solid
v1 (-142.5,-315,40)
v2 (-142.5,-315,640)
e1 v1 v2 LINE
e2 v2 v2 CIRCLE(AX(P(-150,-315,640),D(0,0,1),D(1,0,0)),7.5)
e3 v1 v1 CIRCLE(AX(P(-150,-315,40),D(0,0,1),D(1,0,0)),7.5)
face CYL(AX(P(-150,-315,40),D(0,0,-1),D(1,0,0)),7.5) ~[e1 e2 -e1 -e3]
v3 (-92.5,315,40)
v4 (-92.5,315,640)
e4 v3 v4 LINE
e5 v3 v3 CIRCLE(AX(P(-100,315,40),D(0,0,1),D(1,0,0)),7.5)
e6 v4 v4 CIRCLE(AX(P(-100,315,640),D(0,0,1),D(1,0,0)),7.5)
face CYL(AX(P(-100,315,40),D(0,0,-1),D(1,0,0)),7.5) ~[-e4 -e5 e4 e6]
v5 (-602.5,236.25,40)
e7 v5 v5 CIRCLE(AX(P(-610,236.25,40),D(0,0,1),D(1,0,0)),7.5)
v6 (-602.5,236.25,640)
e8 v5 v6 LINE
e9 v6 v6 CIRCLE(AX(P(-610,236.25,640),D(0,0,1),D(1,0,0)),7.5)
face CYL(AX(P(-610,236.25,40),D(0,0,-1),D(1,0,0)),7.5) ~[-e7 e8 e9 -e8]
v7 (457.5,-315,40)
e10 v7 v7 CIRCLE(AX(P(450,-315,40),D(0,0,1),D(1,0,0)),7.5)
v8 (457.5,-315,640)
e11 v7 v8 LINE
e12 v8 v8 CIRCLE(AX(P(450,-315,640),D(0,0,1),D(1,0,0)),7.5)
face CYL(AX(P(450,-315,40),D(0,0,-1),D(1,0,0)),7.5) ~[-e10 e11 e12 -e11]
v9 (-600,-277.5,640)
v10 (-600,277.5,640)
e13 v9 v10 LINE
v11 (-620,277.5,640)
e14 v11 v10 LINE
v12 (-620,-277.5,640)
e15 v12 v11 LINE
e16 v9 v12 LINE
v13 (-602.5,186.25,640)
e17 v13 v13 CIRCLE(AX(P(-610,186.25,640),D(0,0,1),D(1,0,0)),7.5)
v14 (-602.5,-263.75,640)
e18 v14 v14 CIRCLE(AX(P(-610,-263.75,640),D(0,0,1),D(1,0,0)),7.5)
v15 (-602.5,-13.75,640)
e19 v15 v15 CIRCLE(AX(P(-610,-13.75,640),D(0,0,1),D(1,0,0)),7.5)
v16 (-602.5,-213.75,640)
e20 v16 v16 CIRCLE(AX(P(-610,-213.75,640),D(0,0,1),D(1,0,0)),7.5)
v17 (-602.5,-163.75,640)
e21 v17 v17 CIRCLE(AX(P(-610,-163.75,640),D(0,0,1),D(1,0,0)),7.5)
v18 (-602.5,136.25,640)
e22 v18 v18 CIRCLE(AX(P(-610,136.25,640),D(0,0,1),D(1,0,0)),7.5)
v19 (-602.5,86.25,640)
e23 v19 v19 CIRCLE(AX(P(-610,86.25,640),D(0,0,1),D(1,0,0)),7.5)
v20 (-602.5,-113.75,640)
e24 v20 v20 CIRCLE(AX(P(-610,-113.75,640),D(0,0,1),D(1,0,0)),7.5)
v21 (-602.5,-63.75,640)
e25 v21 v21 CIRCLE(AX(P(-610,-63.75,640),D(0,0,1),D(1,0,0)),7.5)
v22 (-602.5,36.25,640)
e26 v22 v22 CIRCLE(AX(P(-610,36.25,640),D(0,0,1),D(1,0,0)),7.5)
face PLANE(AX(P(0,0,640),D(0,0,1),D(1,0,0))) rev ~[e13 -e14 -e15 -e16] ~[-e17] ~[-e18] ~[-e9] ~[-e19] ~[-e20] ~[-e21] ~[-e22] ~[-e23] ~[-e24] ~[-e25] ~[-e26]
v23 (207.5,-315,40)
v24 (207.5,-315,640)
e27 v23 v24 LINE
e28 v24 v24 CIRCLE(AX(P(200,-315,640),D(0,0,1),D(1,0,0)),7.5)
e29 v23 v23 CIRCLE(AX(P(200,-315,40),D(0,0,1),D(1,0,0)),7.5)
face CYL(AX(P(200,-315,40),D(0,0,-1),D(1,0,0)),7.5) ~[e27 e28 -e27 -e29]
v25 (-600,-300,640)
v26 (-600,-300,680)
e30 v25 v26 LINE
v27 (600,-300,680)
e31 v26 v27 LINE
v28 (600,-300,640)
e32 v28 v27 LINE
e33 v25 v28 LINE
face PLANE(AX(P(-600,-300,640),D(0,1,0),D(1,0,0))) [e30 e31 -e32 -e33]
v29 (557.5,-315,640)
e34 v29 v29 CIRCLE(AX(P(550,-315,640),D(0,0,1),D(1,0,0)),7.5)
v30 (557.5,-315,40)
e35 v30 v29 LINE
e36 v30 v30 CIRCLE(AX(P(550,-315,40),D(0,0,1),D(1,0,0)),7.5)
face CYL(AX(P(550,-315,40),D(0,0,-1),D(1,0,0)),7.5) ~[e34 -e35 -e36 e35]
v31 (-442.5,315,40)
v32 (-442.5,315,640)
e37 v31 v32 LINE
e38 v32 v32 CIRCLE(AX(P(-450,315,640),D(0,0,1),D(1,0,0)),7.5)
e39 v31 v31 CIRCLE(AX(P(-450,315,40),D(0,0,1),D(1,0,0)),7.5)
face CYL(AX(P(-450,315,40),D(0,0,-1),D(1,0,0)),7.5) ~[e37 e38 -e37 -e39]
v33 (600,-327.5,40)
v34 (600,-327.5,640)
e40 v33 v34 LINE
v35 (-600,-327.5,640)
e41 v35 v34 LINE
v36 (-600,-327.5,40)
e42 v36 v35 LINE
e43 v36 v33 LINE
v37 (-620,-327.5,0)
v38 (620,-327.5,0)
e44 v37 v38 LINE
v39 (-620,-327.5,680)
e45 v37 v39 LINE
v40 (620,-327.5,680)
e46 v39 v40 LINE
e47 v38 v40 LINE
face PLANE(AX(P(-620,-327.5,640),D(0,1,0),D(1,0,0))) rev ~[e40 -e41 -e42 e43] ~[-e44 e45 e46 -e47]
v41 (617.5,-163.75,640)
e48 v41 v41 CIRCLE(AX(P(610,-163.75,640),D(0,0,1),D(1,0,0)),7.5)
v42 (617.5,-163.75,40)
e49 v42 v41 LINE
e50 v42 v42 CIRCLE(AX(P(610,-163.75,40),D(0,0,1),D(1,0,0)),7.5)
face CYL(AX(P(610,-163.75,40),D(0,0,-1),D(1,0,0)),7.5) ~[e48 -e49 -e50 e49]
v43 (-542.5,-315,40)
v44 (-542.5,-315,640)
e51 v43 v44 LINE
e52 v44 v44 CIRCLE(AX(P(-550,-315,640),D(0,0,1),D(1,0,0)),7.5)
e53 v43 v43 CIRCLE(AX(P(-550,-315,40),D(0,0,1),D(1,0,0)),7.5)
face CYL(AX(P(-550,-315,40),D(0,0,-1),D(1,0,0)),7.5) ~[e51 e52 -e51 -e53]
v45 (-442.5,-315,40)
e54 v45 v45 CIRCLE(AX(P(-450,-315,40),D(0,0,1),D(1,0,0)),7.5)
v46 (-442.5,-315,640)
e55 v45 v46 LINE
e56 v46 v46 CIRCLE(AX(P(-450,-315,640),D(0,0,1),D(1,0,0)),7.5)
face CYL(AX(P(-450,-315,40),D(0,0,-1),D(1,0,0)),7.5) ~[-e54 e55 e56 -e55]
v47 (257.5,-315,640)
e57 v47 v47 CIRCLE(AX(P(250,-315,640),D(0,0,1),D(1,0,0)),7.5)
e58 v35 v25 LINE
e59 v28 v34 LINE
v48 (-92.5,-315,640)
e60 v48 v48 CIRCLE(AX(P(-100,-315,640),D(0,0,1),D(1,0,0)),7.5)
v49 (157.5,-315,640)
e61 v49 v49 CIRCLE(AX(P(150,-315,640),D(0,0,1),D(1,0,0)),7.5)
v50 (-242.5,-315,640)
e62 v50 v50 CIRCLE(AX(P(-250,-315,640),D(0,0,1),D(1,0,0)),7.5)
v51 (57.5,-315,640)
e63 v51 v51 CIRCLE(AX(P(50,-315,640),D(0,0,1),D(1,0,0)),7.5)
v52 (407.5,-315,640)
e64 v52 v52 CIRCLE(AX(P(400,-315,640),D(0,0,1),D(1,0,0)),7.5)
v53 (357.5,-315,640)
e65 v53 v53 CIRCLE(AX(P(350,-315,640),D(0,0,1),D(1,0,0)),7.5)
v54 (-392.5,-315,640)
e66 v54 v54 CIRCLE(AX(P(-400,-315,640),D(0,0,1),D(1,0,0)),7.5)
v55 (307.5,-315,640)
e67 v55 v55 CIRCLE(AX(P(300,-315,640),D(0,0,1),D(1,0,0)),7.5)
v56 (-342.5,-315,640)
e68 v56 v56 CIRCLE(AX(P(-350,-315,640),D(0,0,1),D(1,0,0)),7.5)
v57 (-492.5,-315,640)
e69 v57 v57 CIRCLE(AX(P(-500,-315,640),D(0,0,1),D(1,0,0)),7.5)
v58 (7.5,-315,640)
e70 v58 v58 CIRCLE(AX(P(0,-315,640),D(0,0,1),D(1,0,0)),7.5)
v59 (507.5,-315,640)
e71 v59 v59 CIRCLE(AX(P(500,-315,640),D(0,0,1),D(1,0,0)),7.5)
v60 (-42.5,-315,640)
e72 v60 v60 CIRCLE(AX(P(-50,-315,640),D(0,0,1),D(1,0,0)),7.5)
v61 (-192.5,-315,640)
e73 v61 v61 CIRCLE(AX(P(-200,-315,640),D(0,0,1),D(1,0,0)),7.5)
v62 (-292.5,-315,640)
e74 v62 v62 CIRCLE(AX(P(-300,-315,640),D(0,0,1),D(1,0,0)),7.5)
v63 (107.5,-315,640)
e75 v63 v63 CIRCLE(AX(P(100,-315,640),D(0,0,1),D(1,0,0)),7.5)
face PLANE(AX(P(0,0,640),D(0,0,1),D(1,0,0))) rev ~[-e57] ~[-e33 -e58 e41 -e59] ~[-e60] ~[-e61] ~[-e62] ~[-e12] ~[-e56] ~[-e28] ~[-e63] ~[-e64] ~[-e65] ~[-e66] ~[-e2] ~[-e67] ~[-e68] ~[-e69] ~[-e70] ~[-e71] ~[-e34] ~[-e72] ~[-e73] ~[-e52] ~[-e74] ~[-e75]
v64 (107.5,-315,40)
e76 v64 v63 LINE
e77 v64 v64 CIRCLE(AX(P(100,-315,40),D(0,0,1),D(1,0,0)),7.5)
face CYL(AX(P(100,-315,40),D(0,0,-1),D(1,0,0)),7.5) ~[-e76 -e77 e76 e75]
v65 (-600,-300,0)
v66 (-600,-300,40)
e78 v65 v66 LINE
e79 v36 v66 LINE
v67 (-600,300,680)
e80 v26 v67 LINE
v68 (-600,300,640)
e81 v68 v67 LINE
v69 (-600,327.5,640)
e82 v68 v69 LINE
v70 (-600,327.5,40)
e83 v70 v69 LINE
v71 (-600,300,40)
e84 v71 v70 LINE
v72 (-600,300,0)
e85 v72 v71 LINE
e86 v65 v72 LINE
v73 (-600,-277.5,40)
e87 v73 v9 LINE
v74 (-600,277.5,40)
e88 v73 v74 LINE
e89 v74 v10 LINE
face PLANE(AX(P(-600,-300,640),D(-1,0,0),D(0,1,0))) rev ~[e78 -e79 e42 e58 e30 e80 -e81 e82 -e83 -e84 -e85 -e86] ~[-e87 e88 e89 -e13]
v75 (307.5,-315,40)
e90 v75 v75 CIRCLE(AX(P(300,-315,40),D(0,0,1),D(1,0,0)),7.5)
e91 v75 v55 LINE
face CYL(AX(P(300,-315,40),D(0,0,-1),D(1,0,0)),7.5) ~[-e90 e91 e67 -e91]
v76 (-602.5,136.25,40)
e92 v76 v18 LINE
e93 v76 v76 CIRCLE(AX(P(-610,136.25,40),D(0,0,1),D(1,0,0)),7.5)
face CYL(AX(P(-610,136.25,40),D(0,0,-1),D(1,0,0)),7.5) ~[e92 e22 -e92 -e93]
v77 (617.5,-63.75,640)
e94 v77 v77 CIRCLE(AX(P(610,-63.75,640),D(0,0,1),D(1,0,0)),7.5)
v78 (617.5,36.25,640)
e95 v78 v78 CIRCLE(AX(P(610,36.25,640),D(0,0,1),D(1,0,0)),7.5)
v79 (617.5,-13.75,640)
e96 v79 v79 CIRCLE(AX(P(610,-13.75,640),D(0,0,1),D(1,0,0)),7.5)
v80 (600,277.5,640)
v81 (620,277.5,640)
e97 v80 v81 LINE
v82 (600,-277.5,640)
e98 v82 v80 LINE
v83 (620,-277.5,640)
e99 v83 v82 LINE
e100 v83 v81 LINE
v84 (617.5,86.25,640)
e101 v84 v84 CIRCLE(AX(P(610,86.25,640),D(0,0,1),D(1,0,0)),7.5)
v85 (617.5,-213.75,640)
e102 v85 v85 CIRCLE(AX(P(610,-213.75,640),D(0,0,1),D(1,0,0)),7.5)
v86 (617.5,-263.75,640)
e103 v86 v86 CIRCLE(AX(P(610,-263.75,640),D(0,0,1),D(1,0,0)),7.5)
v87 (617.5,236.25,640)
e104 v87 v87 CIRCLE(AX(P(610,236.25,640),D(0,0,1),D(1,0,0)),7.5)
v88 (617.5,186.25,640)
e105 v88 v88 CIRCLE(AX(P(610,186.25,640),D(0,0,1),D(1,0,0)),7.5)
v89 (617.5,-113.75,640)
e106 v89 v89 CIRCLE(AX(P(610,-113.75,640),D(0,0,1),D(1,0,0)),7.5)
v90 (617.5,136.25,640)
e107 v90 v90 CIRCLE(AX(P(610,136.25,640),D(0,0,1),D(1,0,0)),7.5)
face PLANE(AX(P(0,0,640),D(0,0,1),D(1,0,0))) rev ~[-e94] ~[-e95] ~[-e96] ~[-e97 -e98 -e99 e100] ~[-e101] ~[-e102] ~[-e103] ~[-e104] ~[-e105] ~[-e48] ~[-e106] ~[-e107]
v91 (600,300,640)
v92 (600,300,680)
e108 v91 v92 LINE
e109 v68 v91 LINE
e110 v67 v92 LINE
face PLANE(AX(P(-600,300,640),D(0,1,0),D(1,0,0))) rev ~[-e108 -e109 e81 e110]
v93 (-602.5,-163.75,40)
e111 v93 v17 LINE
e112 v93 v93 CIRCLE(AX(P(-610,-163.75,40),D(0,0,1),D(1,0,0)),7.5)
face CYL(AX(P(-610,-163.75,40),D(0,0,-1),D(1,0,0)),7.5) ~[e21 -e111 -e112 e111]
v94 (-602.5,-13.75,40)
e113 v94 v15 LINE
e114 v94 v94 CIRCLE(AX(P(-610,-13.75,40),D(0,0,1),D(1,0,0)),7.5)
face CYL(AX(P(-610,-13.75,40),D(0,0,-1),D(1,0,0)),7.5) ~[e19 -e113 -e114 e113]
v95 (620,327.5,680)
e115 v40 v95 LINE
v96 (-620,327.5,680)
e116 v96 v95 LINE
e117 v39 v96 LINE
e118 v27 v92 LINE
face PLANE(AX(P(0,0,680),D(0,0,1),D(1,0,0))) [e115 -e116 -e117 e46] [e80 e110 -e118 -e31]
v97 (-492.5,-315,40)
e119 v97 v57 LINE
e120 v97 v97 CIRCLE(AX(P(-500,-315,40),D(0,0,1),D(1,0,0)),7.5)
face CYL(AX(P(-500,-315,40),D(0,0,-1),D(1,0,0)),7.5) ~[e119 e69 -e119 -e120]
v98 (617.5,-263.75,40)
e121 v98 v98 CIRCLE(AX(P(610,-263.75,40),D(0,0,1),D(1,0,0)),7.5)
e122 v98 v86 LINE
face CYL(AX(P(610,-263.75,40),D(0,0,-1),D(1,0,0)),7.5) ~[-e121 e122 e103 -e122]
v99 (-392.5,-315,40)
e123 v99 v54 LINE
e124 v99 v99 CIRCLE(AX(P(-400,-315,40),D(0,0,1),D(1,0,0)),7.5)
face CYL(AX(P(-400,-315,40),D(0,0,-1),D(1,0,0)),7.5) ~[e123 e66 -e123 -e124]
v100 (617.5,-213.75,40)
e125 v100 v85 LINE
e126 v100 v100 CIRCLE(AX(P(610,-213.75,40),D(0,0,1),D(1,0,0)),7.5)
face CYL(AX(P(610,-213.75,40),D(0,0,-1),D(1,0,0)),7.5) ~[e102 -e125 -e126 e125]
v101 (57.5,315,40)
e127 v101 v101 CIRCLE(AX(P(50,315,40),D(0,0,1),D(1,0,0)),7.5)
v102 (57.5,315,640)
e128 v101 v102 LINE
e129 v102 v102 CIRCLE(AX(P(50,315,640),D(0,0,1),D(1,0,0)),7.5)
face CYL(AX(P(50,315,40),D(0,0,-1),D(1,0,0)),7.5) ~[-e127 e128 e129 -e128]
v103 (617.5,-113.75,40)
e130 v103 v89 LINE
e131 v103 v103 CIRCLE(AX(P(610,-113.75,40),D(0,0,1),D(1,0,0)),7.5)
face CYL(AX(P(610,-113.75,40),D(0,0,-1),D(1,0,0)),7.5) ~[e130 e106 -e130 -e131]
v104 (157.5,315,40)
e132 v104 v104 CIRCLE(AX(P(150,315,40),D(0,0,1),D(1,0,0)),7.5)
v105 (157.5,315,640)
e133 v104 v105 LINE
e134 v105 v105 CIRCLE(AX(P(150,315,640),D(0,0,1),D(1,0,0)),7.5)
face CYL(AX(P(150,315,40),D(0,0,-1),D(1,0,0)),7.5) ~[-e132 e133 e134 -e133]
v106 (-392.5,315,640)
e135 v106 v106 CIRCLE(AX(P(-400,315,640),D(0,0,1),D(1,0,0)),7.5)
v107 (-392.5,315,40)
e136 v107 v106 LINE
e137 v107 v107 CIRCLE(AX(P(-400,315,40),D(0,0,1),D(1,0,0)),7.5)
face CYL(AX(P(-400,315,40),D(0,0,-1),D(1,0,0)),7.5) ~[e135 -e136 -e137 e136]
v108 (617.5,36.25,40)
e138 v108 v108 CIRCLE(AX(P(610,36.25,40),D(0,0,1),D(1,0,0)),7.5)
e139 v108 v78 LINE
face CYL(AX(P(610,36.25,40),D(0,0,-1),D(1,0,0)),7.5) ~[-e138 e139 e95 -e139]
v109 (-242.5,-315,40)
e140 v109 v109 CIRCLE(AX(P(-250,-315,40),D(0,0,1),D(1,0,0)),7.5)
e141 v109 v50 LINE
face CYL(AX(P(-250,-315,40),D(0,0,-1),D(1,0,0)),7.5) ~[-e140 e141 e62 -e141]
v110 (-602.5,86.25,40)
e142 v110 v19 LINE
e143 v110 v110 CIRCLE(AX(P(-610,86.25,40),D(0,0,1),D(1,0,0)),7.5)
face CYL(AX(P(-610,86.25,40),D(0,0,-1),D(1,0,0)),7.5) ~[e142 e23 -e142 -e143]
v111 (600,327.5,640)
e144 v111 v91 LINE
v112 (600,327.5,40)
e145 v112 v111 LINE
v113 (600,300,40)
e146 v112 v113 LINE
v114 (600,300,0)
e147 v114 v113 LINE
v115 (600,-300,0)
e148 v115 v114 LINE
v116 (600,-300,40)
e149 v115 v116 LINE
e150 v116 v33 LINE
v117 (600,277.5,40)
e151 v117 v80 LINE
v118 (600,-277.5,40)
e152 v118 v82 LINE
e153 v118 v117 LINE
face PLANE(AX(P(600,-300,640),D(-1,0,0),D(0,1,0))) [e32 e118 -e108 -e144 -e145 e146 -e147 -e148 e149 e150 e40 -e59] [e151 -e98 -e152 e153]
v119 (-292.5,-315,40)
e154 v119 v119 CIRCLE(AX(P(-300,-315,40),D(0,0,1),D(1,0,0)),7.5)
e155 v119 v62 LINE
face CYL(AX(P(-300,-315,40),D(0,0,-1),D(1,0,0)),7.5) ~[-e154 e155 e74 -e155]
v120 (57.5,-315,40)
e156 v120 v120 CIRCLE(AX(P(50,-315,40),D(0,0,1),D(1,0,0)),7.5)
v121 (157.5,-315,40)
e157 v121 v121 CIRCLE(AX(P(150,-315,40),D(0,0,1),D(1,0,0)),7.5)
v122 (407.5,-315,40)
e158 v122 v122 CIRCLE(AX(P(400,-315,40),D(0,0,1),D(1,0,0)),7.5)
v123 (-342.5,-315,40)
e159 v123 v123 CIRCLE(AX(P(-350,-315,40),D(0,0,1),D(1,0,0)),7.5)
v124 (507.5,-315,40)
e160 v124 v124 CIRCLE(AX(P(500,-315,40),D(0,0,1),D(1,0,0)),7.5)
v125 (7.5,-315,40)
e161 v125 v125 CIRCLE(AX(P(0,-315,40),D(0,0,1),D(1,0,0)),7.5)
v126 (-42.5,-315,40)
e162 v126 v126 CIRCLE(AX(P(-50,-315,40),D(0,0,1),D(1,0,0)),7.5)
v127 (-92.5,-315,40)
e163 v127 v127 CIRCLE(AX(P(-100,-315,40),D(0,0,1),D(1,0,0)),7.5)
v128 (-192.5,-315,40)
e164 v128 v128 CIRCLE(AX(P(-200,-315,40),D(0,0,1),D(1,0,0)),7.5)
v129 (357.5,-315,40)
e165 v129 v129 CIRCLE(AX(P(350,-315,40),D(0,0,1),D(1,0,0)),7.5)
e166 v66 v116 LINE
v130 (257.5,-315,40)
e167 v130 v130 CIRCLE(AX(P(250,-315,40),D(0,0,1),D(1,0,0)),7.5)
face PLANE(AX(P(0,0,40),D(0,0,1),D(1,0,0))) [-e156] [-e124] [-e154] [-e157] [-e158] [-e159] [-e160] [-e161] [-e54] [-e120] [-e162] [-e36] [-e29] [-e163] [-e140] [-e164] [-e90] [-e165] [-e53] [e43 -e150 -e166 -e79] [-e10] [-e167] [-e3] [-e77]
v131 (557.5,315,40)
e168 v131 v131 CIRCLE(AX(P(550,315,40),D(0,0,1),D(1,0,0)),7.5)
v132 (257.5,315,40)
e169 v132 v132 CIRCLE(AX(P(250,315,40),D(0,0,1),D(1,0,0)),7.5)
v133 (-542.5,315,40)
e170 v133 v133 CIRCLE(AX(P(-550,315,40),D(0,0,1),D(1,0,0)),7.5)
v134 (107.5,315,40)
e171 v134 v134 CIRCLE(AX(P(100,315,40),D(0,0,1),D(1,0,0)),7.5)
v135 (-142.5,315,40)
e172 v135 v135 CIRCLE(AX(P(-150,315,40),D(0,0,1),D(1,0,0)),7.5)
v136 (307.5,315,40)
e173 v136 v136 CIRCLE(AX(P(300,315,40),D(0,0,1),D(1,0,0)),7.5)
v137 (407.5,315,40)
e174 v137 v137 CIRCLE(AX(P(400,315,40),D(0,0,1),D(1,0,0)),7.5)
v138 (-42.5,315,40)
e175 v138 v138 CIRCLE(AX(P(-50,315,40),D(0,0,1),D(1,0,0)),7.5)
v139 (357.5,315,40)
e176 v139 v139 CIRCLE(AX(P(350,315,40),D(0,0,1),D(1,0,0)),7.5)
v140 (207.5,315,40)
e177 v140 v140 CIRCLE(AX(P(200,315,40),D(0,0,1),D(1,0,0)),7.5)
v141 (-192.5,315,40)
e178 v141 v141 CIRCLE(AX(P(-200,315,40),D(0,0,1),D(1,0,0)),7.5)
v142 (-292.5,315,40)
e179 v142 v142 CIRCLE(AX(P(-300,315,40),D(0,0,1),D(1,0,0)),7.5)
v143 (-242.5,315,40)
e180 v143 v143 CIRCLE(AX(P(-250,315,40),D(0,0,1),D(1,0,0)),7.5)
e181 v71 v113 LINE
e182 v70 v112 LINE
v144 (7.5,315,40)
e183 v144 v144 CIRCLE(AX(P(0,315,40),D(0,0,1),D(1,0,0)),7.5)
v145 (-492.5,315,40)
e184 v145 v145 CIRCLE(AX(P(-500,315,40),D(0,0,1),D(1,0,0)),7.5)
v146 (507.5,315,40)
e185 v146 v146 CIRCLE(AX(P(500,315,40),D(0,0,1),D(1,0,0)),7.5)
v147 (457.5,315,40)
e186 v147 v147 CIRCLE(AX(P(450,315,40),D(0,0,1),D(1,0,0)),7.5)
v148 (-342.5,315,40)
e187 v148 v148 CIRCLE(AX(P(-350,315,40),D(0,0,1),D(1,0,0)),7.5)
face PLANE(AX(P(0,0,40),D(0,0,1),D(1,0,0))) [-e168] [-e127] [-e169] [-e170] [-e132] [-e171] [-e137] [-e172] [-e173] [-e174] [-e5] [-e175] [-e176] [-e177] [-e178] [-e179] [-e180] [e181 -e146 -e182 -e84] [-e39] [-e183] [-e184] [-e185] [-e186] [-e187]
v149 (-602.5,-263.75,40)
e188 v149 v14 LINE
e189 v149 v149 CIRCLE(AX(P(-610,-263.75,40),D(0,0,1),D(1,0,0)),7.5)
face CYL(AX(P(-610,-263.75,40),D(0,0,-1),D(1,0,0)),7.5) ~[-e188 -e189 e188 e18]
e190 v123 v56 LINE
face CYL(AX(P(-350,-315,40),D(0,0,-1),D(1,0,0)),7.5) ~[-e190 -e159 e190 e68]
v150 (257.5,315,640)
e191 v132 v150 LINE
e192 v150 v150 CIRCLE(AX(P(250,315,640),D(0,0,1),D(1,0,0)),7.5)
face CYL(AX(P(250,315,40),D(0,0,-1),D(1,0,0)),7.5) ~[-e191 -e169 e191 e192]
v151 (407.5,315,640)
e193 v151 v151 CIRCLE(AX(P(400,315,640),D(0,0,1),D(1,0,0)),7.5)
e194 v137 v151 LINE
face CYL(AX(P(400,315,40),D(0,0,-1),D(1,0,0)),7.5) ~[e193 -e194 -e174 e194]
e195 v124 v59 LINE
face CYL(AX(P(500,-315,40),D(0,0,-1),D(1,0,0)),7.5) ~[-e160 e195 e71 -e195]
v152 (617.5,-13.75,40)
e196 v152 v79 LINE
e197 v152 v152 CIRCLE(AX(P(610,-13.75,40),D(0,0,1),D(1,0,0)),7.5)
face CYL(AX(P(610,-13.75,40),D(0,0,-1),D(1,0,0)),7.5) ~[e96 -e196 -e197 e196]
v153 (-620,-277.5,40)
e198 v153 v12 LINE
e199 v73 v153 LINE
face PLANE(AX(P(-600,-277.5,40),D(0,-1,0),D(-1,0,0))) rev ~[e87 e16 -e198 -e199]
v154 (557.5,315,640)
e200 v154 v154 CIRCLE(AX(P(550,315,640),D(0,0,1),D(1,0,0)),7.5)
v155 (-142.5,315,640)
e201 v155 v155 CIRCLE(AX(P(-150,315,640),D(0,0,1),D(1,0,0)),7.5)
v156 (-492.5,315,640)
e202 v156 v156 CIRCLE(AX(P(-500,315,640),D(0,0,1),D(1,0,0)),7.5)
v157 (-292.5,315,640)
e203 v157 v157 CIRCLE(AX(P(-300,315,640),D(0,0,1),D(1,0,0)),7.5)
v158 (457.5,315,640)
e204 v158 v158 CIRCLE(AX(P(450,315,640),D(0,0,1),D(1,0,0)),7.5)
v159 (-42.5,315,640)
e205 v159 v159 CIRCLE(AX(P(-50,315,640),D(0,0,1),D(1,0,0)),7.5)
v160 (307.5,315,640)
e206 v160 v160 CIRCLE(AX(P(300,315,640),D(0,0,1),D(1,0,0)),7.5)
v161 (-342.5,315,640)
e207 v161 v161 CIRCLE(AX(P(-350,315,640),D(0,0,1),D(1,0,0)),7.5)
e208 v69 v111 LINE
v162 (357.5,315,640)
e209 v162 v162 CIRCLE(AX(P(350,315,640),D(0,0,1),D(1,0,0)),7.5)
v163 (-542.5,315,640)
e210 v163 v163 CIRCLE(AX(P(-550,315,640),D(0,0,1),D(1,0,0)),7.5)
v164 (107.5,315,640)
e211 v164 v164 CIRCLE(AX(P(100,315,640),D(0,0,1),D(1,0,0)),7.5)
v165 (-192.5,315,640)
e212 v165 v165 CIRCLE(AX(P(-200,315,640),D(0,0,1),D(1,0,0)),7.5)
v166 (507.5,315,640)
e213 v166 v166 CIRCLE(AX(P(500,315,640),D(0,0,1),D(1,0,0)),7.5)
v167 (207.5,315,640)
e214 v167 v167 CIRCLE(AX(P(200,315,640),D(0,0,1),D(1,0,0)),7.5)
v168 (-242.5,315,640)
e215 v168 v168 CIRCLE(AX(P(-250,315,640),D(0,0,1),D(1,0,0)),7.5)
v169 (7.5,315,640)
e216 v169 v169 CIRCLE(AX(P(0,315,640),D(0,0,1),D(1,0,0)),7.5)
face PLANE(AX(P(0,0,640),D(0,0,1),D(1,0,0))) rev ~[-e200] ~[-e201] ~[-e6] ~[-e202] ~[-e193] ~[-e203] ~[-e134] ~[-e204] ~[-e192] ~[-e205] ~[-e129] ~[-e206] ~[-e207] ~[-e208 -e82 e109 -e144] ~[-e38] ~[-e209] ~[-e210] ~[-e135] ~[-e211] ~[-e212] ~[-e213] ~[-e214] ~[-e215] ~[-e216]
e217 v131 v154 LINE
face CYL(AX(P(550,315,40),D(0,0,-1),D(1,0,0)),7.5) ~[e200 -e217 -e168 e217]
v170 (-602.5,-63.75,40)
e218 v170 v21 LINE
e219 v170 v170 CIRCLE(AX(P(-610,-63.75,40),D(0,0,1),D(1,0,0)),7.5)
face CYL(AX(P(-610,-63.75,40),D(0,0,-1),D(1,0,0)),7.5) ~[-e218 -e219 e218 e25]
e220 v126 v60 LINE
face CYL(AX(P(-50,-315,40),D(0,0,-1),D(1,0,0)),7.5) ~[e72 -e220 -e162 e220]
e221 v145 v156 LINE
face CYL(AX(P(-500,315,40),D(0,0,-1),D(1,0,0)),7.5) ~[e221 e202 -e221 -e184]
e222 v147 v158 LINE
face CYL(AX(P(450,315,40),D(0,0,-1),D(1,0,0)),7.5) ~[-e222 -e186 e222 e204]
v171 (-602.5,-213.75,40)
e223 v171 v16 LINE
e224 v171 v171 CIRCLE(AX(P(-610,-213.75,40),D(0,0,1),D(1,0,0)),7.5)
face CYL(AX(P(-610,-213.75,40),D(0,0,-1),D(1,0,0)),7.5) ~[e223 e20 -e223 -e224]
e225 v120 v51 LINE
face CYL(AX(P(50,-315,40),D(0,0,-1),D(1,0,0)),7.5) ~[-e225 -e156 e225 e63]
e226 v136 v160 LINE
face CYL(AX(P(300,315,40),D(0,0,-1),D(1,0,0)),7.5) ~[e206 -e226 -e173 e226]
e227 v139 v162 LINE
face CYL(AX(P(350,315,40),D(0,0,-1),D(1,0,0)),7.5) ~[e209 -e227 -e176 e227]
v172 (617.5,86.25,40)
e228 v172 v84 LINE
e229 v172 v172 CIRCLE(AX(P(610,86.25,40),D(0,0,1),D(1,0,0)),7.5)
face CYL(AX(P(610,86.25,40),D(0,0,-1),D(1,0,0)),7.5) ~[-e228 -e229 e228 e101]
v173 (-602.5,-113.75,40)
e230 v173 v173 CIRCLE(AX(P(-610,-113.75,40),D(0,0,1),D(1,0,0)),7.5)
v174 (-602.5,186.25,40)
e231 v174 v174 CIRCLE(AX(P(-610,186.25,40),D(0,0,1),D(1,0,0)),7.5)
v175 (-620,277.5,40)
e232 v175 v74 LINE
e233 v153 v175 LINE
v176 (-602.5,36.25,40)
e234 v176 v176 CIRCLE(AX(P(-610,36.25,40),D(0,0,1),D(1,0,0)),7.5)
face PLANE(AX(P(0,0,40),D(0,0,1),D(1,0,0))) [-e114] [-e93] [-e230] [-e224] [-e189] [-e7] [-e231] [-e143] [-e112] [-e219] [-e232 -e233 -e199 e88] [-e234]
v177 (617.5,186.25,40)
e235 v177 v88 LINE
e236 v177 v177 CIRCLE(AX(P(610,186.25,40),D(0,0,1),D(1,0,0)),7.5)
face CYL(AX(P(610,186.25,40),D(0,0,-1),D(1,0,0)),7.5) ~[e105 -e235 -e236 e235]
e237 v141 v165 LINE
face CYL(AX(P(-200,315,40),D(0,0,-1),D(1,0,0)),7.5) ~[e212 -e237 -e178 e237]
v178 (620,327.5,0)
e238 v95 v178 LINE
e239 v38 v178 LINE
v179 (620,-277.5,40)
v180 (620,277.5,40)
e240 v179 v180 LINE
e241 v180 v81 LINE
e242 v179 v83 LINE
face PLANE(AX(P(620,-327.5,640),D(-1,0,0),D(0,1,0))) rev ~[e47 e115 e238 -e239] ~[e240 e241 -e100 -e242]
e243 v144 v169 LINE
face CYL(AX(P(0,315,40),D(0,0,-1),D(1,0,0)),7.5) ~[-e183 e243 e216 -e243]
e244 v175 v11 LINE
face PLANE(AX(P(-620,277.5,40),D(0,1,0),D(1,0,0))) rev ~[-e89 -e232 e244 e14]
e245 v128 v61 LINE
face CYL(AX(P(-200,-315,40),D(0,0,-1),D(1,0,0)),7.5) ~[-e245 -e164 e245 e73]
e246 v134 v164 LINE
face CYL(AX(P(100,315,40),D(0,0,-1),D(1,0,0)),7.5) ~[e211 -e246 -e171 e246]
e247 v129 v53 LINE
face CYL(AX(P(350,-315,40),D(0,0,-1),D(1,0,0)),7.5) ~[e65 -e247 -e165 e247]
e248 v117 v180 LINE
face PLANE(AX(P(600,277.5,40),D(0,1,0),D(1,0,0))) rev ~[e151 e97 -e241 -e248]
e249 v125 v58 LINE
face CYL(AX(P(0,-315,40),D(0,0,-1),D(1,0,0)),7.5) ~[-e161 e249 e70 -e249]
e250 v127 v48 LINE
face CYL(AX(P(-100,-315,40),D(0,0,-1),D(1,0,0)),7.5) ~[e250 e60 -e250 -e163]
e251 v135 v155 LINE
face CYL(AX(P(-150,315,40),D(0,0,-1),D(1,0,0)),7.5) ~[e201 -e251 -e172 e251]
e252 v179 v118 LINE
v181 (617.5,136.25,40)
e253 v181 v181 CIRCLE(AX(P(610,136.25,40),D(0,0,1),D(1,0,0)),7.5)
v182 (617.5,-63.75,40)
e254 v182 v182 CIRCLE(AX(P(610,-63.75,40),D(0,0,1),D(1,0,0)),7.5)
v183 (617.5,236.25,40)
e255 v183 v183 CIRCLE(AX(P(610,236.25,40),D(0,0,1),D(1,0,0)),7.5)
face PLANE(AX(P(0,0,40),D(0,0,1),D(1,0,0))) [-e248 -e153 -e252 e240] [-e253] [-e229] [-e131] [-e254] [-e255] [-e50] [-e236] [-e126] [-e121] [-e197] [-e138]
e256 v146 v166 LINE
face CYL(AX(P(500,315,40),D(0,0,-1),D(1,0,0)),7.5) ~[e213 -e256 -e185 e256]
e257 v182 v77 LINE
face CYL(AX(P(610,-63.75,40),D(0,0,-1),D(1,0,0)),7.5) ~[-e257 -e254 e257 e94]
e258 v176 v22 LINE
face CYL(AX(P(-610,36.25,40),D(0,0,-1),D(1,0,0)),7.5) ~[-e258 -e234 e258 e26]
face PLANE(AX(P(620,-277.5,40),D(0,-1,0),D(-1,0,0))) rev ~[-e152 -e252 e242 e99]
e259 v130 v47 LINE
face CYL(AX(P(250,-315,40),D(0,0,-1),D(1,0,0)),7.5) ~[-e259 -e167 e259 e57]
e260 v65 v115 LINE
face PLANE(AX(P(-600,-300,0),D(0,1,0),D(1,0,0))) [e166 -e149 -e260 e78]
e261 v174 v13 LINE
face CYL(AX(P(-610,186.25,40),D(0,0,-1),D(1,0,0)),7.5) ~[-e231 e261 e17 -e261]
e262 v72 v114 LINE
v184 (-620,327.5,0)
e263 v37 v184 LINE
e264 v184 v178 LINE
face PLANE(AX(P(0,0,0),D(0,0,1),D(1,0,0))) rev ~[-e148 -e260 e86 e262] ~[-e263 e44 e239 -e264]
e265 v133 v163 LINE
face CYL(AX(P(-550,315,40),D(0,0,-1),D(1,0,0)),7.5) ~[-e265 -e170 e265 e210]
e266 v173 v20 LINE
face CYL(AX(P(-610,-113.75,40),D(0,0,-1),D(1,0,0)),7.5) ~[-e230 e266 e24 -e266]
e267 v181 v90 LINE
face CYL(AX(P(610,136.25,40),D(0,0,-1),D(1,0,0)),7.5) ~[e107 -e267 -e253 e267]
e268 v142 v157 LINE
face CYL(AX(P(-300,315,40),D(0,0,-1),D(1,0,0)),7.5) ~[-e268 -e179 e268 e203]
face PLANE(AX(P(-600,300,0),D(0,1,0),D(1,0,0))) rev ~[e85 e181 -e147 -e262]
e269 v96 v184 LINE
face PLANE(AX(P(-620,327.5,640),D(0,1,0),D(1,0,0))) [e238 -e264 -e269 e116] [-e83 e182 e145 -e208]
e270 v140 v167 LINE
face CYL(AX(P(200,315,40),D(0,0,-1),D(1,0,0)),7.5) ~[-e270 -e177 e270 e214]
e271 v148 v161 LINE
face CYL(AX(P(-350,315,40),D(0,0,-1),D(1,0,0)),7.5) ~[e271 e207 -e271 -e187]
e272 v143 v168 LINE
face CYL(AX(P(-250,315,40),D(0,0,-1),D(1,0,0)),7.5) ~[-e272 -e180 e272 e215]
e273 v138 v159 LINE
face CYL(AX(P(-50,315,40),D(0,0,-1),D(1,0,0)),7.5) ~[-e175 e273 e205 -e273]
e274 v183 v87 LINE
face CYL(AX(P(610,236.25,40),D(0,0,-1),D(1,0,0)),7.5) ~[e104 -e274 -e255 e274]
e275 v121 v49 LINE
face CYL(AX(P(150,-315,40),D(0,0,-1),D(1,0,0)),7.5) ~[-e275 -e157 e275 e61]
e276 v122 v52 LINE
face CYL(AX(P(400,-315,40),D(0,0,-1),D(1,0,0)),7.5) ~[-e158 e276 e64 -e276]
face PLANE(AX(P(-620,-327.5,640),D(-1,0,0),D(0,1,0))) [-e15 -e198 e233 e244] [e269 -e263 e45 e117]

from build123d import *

# Parameters (mm, degrees)
F0_W     = 1240
F0_H     = 655
F0_W_2   = 1200
F0_H_2   = 600
F1_DEPTH = 40
F3_DEPTH = 600
F4_R     = 7.5
F5_DEPTH = 600
F6_W     = 1240
F6_H     = 655
F6_W_2   = 1200
F6_H_2   = 600
F7_DEPTH = 40


with BuildPart() as f1:
    # F0 (on Top) → F1 (new body)
    with BuildSketch(Plane.XY):
        Rectangle(F0_W, F0_H)
        Rectangle(F0_W_2, F0_H_2, mode=Mode.SUBTRACT)
    extrude(amount=F1_DEPTH)

    # F2 (on face) → F3 (join)
    with BuildSketch(Plane.XY.offset(40)):
        Polygon((-600, 327.5), (-620, 327.5), (-620, 277.5), (-600, 277.5), (-600, 300), align=None)
        Polygon((-600, -277.5), (-620, -277.5), (-620, -327.5), (-600, -327.5), (-600, -300), align=None)
        Polygon((620, 327.5), (600, 327.5), (600, 300), (600, 277.5), (620, 277.5), align=None)
        Polygon((620, -277.5), (600, -277.5), (600, -300), (600, -327.5), (620, -327.5), align=None)
    extrude(amount=F3_DEPTH)

    # F4 (on face) → F5 (join)
    with BuildSketch(Plane.XY.offset(40)):
        with Locations((-550, -315)):
            Circle(F4_R)
        with Locations((-500, -315)):
            Circle(F4_R)
        with Locations((-450, -315)):
            Circle(F4_R)
        with Locations((-400, -315)):
            Circle(F4_R)
        with Locations((-350, -315)):
            Circle(F4_R)
        with Locations((-300, -315)):
            Circle(F4_R)
        with Locations((-250, -315)):
            Circle(F4_R)
        with Locations((-200, -315)):
            Circle(F4_R)
        with Locations((-150, -315)):
            Circle(F4_R)
        with Locations((-100, -315)):
            Circle(F4_R)
        with Locations((-50, -315)):
            Circle(F4_R)
        with Locations((0, -315)):
            Circle(F4_R)
        with Locations((50, -315)):
            Circle(F4_R)
        with Locations((100, -315)):
            Circle(F4_R)
        with Locations((150, -315)):
            Circle(F4_R)
        with Locations((200, -315)):
            Circle(F4_R)
        with Locations((250, -315)):
            Circle(F4_R)
        with Locations((300, -315)):
            Circle(F4_R)
        with Locations((350, -315)):
            Circle(F4_R)
        with Locations((400, -315)):
            Circle(F4_R)
        with Locations((450, -315)):
            Circle(F4_R)
        with Locations((500, -315)):
            Circle(F4_R)
        with Locations((550, -315)):
            Circle(F4_R)
        with Locations((-500, 315)):
            Circle(F4_R)
        with Locations((-550, 315)):
            Circle(F4_R)
        with Locations((150, 315)):
            Circle(F4_R)
        with Locations((0, 315)):
            Circle(F4_R)
        with Locations((250, 315)):
            Circle(F4_R)
        with Locations((-400, 315)):
            Circle(F4_R)
        with Locations((450, 315)):
            Circle(F4_R)
        with Locations((100, 315)):
            Circle(F4_R)
        with Locations((500, 315)):
            Circle(F4_R)
        with Locations((-100, 315)):
            Circle(F4_R)
        with Locations((-450, 315)):
            Circle(F4_R)
        with Locations((400, 315)):
            Circle(F4_R)
        with Locations((50, 315)):
            Circle(F4_R)
        with Locations((-300, 315)):
            Circle(F4_R)
        with Locations((-50, 315)):
            Circle(F4_R)
        with Locations((550, 315)):
            Circle(F4_R)
        with Locations((300, 315)):
            Circle(F4_R)
        with Locations((-200, 315)):
            Circle(F4_R)
        with Locations((200, 315)):
            Circle(F4_R)
        with Locations((350, 315)):
            Circle(F4_R)
        with Locations((-250, 315)):
            Circle(F4_R)
        with Locations((-150, 315)):
            Circle(F4_R)
        with Locations((-350, 315)):
            Circle(F4_R)
        with Locations((-610, -263.75)):
            Circle(F4_R)
        with Locations((-610, -213.75)):
            Circle(F4_R)
        with Locations((-610, -163.75)):
            Circle(F4_R)
        with Locations((-610, -113.75)):
            Circle(F4_R)
        with Locations((-610, -63.75)):
            Circle(F4_R)
        with Locations((-610, -13.75)):
            Circle(F4_R)
        with Locations((-610, 36.25)):
            Circle(F4_R)
        with Locations((-610, 86.25)):
            Circle(F4_R)
        with Locations((-610, 136.25)):
            Circle(F4_R)
        with Locations((-610, 186.25)):
            Circle(F4_R)
        with Locations((-610, 236.25)):
            Circle(F4_R)
        with Locations((610, -263.75)):
            Circle(F4_R)
        with Locations((610, -213.75)):
            Circle(F4_R)
        with Locations((610, 136.25)):
            Circle(F4_R)
        with Locations((610, 236.25)):
            Circle(F4_R)
        with Locations((610, -113.75)):
            Circle(F4_R)
        with Locations((610, 86.25)):
            Circle(F4_R)
        with Locations((610, 186.25)):
            Circle(F4_R)
        with Locations((610, 36.25)):
            Circle(F4_R)
        with Locations((610, -13.75)):
            Circle(F4_R)
        with Locations((610, -63.75)):
            Circle(F4_R)
        with Locations((610, -163.75)):
            Circle(F4_R)
    extrude(amount=F5_DEPTH)

    # F6 (on face) → F7 (join)
    with BuildSketch(Plane.XY.offset(640)):
        Rectangle(F6_W, F6_H)
        Rectangle(F6_W_2, F6_H_2, mode=Mode.SUBTRACT)
    extrude(amount=F7_DEPTH)


solid = f1.part
